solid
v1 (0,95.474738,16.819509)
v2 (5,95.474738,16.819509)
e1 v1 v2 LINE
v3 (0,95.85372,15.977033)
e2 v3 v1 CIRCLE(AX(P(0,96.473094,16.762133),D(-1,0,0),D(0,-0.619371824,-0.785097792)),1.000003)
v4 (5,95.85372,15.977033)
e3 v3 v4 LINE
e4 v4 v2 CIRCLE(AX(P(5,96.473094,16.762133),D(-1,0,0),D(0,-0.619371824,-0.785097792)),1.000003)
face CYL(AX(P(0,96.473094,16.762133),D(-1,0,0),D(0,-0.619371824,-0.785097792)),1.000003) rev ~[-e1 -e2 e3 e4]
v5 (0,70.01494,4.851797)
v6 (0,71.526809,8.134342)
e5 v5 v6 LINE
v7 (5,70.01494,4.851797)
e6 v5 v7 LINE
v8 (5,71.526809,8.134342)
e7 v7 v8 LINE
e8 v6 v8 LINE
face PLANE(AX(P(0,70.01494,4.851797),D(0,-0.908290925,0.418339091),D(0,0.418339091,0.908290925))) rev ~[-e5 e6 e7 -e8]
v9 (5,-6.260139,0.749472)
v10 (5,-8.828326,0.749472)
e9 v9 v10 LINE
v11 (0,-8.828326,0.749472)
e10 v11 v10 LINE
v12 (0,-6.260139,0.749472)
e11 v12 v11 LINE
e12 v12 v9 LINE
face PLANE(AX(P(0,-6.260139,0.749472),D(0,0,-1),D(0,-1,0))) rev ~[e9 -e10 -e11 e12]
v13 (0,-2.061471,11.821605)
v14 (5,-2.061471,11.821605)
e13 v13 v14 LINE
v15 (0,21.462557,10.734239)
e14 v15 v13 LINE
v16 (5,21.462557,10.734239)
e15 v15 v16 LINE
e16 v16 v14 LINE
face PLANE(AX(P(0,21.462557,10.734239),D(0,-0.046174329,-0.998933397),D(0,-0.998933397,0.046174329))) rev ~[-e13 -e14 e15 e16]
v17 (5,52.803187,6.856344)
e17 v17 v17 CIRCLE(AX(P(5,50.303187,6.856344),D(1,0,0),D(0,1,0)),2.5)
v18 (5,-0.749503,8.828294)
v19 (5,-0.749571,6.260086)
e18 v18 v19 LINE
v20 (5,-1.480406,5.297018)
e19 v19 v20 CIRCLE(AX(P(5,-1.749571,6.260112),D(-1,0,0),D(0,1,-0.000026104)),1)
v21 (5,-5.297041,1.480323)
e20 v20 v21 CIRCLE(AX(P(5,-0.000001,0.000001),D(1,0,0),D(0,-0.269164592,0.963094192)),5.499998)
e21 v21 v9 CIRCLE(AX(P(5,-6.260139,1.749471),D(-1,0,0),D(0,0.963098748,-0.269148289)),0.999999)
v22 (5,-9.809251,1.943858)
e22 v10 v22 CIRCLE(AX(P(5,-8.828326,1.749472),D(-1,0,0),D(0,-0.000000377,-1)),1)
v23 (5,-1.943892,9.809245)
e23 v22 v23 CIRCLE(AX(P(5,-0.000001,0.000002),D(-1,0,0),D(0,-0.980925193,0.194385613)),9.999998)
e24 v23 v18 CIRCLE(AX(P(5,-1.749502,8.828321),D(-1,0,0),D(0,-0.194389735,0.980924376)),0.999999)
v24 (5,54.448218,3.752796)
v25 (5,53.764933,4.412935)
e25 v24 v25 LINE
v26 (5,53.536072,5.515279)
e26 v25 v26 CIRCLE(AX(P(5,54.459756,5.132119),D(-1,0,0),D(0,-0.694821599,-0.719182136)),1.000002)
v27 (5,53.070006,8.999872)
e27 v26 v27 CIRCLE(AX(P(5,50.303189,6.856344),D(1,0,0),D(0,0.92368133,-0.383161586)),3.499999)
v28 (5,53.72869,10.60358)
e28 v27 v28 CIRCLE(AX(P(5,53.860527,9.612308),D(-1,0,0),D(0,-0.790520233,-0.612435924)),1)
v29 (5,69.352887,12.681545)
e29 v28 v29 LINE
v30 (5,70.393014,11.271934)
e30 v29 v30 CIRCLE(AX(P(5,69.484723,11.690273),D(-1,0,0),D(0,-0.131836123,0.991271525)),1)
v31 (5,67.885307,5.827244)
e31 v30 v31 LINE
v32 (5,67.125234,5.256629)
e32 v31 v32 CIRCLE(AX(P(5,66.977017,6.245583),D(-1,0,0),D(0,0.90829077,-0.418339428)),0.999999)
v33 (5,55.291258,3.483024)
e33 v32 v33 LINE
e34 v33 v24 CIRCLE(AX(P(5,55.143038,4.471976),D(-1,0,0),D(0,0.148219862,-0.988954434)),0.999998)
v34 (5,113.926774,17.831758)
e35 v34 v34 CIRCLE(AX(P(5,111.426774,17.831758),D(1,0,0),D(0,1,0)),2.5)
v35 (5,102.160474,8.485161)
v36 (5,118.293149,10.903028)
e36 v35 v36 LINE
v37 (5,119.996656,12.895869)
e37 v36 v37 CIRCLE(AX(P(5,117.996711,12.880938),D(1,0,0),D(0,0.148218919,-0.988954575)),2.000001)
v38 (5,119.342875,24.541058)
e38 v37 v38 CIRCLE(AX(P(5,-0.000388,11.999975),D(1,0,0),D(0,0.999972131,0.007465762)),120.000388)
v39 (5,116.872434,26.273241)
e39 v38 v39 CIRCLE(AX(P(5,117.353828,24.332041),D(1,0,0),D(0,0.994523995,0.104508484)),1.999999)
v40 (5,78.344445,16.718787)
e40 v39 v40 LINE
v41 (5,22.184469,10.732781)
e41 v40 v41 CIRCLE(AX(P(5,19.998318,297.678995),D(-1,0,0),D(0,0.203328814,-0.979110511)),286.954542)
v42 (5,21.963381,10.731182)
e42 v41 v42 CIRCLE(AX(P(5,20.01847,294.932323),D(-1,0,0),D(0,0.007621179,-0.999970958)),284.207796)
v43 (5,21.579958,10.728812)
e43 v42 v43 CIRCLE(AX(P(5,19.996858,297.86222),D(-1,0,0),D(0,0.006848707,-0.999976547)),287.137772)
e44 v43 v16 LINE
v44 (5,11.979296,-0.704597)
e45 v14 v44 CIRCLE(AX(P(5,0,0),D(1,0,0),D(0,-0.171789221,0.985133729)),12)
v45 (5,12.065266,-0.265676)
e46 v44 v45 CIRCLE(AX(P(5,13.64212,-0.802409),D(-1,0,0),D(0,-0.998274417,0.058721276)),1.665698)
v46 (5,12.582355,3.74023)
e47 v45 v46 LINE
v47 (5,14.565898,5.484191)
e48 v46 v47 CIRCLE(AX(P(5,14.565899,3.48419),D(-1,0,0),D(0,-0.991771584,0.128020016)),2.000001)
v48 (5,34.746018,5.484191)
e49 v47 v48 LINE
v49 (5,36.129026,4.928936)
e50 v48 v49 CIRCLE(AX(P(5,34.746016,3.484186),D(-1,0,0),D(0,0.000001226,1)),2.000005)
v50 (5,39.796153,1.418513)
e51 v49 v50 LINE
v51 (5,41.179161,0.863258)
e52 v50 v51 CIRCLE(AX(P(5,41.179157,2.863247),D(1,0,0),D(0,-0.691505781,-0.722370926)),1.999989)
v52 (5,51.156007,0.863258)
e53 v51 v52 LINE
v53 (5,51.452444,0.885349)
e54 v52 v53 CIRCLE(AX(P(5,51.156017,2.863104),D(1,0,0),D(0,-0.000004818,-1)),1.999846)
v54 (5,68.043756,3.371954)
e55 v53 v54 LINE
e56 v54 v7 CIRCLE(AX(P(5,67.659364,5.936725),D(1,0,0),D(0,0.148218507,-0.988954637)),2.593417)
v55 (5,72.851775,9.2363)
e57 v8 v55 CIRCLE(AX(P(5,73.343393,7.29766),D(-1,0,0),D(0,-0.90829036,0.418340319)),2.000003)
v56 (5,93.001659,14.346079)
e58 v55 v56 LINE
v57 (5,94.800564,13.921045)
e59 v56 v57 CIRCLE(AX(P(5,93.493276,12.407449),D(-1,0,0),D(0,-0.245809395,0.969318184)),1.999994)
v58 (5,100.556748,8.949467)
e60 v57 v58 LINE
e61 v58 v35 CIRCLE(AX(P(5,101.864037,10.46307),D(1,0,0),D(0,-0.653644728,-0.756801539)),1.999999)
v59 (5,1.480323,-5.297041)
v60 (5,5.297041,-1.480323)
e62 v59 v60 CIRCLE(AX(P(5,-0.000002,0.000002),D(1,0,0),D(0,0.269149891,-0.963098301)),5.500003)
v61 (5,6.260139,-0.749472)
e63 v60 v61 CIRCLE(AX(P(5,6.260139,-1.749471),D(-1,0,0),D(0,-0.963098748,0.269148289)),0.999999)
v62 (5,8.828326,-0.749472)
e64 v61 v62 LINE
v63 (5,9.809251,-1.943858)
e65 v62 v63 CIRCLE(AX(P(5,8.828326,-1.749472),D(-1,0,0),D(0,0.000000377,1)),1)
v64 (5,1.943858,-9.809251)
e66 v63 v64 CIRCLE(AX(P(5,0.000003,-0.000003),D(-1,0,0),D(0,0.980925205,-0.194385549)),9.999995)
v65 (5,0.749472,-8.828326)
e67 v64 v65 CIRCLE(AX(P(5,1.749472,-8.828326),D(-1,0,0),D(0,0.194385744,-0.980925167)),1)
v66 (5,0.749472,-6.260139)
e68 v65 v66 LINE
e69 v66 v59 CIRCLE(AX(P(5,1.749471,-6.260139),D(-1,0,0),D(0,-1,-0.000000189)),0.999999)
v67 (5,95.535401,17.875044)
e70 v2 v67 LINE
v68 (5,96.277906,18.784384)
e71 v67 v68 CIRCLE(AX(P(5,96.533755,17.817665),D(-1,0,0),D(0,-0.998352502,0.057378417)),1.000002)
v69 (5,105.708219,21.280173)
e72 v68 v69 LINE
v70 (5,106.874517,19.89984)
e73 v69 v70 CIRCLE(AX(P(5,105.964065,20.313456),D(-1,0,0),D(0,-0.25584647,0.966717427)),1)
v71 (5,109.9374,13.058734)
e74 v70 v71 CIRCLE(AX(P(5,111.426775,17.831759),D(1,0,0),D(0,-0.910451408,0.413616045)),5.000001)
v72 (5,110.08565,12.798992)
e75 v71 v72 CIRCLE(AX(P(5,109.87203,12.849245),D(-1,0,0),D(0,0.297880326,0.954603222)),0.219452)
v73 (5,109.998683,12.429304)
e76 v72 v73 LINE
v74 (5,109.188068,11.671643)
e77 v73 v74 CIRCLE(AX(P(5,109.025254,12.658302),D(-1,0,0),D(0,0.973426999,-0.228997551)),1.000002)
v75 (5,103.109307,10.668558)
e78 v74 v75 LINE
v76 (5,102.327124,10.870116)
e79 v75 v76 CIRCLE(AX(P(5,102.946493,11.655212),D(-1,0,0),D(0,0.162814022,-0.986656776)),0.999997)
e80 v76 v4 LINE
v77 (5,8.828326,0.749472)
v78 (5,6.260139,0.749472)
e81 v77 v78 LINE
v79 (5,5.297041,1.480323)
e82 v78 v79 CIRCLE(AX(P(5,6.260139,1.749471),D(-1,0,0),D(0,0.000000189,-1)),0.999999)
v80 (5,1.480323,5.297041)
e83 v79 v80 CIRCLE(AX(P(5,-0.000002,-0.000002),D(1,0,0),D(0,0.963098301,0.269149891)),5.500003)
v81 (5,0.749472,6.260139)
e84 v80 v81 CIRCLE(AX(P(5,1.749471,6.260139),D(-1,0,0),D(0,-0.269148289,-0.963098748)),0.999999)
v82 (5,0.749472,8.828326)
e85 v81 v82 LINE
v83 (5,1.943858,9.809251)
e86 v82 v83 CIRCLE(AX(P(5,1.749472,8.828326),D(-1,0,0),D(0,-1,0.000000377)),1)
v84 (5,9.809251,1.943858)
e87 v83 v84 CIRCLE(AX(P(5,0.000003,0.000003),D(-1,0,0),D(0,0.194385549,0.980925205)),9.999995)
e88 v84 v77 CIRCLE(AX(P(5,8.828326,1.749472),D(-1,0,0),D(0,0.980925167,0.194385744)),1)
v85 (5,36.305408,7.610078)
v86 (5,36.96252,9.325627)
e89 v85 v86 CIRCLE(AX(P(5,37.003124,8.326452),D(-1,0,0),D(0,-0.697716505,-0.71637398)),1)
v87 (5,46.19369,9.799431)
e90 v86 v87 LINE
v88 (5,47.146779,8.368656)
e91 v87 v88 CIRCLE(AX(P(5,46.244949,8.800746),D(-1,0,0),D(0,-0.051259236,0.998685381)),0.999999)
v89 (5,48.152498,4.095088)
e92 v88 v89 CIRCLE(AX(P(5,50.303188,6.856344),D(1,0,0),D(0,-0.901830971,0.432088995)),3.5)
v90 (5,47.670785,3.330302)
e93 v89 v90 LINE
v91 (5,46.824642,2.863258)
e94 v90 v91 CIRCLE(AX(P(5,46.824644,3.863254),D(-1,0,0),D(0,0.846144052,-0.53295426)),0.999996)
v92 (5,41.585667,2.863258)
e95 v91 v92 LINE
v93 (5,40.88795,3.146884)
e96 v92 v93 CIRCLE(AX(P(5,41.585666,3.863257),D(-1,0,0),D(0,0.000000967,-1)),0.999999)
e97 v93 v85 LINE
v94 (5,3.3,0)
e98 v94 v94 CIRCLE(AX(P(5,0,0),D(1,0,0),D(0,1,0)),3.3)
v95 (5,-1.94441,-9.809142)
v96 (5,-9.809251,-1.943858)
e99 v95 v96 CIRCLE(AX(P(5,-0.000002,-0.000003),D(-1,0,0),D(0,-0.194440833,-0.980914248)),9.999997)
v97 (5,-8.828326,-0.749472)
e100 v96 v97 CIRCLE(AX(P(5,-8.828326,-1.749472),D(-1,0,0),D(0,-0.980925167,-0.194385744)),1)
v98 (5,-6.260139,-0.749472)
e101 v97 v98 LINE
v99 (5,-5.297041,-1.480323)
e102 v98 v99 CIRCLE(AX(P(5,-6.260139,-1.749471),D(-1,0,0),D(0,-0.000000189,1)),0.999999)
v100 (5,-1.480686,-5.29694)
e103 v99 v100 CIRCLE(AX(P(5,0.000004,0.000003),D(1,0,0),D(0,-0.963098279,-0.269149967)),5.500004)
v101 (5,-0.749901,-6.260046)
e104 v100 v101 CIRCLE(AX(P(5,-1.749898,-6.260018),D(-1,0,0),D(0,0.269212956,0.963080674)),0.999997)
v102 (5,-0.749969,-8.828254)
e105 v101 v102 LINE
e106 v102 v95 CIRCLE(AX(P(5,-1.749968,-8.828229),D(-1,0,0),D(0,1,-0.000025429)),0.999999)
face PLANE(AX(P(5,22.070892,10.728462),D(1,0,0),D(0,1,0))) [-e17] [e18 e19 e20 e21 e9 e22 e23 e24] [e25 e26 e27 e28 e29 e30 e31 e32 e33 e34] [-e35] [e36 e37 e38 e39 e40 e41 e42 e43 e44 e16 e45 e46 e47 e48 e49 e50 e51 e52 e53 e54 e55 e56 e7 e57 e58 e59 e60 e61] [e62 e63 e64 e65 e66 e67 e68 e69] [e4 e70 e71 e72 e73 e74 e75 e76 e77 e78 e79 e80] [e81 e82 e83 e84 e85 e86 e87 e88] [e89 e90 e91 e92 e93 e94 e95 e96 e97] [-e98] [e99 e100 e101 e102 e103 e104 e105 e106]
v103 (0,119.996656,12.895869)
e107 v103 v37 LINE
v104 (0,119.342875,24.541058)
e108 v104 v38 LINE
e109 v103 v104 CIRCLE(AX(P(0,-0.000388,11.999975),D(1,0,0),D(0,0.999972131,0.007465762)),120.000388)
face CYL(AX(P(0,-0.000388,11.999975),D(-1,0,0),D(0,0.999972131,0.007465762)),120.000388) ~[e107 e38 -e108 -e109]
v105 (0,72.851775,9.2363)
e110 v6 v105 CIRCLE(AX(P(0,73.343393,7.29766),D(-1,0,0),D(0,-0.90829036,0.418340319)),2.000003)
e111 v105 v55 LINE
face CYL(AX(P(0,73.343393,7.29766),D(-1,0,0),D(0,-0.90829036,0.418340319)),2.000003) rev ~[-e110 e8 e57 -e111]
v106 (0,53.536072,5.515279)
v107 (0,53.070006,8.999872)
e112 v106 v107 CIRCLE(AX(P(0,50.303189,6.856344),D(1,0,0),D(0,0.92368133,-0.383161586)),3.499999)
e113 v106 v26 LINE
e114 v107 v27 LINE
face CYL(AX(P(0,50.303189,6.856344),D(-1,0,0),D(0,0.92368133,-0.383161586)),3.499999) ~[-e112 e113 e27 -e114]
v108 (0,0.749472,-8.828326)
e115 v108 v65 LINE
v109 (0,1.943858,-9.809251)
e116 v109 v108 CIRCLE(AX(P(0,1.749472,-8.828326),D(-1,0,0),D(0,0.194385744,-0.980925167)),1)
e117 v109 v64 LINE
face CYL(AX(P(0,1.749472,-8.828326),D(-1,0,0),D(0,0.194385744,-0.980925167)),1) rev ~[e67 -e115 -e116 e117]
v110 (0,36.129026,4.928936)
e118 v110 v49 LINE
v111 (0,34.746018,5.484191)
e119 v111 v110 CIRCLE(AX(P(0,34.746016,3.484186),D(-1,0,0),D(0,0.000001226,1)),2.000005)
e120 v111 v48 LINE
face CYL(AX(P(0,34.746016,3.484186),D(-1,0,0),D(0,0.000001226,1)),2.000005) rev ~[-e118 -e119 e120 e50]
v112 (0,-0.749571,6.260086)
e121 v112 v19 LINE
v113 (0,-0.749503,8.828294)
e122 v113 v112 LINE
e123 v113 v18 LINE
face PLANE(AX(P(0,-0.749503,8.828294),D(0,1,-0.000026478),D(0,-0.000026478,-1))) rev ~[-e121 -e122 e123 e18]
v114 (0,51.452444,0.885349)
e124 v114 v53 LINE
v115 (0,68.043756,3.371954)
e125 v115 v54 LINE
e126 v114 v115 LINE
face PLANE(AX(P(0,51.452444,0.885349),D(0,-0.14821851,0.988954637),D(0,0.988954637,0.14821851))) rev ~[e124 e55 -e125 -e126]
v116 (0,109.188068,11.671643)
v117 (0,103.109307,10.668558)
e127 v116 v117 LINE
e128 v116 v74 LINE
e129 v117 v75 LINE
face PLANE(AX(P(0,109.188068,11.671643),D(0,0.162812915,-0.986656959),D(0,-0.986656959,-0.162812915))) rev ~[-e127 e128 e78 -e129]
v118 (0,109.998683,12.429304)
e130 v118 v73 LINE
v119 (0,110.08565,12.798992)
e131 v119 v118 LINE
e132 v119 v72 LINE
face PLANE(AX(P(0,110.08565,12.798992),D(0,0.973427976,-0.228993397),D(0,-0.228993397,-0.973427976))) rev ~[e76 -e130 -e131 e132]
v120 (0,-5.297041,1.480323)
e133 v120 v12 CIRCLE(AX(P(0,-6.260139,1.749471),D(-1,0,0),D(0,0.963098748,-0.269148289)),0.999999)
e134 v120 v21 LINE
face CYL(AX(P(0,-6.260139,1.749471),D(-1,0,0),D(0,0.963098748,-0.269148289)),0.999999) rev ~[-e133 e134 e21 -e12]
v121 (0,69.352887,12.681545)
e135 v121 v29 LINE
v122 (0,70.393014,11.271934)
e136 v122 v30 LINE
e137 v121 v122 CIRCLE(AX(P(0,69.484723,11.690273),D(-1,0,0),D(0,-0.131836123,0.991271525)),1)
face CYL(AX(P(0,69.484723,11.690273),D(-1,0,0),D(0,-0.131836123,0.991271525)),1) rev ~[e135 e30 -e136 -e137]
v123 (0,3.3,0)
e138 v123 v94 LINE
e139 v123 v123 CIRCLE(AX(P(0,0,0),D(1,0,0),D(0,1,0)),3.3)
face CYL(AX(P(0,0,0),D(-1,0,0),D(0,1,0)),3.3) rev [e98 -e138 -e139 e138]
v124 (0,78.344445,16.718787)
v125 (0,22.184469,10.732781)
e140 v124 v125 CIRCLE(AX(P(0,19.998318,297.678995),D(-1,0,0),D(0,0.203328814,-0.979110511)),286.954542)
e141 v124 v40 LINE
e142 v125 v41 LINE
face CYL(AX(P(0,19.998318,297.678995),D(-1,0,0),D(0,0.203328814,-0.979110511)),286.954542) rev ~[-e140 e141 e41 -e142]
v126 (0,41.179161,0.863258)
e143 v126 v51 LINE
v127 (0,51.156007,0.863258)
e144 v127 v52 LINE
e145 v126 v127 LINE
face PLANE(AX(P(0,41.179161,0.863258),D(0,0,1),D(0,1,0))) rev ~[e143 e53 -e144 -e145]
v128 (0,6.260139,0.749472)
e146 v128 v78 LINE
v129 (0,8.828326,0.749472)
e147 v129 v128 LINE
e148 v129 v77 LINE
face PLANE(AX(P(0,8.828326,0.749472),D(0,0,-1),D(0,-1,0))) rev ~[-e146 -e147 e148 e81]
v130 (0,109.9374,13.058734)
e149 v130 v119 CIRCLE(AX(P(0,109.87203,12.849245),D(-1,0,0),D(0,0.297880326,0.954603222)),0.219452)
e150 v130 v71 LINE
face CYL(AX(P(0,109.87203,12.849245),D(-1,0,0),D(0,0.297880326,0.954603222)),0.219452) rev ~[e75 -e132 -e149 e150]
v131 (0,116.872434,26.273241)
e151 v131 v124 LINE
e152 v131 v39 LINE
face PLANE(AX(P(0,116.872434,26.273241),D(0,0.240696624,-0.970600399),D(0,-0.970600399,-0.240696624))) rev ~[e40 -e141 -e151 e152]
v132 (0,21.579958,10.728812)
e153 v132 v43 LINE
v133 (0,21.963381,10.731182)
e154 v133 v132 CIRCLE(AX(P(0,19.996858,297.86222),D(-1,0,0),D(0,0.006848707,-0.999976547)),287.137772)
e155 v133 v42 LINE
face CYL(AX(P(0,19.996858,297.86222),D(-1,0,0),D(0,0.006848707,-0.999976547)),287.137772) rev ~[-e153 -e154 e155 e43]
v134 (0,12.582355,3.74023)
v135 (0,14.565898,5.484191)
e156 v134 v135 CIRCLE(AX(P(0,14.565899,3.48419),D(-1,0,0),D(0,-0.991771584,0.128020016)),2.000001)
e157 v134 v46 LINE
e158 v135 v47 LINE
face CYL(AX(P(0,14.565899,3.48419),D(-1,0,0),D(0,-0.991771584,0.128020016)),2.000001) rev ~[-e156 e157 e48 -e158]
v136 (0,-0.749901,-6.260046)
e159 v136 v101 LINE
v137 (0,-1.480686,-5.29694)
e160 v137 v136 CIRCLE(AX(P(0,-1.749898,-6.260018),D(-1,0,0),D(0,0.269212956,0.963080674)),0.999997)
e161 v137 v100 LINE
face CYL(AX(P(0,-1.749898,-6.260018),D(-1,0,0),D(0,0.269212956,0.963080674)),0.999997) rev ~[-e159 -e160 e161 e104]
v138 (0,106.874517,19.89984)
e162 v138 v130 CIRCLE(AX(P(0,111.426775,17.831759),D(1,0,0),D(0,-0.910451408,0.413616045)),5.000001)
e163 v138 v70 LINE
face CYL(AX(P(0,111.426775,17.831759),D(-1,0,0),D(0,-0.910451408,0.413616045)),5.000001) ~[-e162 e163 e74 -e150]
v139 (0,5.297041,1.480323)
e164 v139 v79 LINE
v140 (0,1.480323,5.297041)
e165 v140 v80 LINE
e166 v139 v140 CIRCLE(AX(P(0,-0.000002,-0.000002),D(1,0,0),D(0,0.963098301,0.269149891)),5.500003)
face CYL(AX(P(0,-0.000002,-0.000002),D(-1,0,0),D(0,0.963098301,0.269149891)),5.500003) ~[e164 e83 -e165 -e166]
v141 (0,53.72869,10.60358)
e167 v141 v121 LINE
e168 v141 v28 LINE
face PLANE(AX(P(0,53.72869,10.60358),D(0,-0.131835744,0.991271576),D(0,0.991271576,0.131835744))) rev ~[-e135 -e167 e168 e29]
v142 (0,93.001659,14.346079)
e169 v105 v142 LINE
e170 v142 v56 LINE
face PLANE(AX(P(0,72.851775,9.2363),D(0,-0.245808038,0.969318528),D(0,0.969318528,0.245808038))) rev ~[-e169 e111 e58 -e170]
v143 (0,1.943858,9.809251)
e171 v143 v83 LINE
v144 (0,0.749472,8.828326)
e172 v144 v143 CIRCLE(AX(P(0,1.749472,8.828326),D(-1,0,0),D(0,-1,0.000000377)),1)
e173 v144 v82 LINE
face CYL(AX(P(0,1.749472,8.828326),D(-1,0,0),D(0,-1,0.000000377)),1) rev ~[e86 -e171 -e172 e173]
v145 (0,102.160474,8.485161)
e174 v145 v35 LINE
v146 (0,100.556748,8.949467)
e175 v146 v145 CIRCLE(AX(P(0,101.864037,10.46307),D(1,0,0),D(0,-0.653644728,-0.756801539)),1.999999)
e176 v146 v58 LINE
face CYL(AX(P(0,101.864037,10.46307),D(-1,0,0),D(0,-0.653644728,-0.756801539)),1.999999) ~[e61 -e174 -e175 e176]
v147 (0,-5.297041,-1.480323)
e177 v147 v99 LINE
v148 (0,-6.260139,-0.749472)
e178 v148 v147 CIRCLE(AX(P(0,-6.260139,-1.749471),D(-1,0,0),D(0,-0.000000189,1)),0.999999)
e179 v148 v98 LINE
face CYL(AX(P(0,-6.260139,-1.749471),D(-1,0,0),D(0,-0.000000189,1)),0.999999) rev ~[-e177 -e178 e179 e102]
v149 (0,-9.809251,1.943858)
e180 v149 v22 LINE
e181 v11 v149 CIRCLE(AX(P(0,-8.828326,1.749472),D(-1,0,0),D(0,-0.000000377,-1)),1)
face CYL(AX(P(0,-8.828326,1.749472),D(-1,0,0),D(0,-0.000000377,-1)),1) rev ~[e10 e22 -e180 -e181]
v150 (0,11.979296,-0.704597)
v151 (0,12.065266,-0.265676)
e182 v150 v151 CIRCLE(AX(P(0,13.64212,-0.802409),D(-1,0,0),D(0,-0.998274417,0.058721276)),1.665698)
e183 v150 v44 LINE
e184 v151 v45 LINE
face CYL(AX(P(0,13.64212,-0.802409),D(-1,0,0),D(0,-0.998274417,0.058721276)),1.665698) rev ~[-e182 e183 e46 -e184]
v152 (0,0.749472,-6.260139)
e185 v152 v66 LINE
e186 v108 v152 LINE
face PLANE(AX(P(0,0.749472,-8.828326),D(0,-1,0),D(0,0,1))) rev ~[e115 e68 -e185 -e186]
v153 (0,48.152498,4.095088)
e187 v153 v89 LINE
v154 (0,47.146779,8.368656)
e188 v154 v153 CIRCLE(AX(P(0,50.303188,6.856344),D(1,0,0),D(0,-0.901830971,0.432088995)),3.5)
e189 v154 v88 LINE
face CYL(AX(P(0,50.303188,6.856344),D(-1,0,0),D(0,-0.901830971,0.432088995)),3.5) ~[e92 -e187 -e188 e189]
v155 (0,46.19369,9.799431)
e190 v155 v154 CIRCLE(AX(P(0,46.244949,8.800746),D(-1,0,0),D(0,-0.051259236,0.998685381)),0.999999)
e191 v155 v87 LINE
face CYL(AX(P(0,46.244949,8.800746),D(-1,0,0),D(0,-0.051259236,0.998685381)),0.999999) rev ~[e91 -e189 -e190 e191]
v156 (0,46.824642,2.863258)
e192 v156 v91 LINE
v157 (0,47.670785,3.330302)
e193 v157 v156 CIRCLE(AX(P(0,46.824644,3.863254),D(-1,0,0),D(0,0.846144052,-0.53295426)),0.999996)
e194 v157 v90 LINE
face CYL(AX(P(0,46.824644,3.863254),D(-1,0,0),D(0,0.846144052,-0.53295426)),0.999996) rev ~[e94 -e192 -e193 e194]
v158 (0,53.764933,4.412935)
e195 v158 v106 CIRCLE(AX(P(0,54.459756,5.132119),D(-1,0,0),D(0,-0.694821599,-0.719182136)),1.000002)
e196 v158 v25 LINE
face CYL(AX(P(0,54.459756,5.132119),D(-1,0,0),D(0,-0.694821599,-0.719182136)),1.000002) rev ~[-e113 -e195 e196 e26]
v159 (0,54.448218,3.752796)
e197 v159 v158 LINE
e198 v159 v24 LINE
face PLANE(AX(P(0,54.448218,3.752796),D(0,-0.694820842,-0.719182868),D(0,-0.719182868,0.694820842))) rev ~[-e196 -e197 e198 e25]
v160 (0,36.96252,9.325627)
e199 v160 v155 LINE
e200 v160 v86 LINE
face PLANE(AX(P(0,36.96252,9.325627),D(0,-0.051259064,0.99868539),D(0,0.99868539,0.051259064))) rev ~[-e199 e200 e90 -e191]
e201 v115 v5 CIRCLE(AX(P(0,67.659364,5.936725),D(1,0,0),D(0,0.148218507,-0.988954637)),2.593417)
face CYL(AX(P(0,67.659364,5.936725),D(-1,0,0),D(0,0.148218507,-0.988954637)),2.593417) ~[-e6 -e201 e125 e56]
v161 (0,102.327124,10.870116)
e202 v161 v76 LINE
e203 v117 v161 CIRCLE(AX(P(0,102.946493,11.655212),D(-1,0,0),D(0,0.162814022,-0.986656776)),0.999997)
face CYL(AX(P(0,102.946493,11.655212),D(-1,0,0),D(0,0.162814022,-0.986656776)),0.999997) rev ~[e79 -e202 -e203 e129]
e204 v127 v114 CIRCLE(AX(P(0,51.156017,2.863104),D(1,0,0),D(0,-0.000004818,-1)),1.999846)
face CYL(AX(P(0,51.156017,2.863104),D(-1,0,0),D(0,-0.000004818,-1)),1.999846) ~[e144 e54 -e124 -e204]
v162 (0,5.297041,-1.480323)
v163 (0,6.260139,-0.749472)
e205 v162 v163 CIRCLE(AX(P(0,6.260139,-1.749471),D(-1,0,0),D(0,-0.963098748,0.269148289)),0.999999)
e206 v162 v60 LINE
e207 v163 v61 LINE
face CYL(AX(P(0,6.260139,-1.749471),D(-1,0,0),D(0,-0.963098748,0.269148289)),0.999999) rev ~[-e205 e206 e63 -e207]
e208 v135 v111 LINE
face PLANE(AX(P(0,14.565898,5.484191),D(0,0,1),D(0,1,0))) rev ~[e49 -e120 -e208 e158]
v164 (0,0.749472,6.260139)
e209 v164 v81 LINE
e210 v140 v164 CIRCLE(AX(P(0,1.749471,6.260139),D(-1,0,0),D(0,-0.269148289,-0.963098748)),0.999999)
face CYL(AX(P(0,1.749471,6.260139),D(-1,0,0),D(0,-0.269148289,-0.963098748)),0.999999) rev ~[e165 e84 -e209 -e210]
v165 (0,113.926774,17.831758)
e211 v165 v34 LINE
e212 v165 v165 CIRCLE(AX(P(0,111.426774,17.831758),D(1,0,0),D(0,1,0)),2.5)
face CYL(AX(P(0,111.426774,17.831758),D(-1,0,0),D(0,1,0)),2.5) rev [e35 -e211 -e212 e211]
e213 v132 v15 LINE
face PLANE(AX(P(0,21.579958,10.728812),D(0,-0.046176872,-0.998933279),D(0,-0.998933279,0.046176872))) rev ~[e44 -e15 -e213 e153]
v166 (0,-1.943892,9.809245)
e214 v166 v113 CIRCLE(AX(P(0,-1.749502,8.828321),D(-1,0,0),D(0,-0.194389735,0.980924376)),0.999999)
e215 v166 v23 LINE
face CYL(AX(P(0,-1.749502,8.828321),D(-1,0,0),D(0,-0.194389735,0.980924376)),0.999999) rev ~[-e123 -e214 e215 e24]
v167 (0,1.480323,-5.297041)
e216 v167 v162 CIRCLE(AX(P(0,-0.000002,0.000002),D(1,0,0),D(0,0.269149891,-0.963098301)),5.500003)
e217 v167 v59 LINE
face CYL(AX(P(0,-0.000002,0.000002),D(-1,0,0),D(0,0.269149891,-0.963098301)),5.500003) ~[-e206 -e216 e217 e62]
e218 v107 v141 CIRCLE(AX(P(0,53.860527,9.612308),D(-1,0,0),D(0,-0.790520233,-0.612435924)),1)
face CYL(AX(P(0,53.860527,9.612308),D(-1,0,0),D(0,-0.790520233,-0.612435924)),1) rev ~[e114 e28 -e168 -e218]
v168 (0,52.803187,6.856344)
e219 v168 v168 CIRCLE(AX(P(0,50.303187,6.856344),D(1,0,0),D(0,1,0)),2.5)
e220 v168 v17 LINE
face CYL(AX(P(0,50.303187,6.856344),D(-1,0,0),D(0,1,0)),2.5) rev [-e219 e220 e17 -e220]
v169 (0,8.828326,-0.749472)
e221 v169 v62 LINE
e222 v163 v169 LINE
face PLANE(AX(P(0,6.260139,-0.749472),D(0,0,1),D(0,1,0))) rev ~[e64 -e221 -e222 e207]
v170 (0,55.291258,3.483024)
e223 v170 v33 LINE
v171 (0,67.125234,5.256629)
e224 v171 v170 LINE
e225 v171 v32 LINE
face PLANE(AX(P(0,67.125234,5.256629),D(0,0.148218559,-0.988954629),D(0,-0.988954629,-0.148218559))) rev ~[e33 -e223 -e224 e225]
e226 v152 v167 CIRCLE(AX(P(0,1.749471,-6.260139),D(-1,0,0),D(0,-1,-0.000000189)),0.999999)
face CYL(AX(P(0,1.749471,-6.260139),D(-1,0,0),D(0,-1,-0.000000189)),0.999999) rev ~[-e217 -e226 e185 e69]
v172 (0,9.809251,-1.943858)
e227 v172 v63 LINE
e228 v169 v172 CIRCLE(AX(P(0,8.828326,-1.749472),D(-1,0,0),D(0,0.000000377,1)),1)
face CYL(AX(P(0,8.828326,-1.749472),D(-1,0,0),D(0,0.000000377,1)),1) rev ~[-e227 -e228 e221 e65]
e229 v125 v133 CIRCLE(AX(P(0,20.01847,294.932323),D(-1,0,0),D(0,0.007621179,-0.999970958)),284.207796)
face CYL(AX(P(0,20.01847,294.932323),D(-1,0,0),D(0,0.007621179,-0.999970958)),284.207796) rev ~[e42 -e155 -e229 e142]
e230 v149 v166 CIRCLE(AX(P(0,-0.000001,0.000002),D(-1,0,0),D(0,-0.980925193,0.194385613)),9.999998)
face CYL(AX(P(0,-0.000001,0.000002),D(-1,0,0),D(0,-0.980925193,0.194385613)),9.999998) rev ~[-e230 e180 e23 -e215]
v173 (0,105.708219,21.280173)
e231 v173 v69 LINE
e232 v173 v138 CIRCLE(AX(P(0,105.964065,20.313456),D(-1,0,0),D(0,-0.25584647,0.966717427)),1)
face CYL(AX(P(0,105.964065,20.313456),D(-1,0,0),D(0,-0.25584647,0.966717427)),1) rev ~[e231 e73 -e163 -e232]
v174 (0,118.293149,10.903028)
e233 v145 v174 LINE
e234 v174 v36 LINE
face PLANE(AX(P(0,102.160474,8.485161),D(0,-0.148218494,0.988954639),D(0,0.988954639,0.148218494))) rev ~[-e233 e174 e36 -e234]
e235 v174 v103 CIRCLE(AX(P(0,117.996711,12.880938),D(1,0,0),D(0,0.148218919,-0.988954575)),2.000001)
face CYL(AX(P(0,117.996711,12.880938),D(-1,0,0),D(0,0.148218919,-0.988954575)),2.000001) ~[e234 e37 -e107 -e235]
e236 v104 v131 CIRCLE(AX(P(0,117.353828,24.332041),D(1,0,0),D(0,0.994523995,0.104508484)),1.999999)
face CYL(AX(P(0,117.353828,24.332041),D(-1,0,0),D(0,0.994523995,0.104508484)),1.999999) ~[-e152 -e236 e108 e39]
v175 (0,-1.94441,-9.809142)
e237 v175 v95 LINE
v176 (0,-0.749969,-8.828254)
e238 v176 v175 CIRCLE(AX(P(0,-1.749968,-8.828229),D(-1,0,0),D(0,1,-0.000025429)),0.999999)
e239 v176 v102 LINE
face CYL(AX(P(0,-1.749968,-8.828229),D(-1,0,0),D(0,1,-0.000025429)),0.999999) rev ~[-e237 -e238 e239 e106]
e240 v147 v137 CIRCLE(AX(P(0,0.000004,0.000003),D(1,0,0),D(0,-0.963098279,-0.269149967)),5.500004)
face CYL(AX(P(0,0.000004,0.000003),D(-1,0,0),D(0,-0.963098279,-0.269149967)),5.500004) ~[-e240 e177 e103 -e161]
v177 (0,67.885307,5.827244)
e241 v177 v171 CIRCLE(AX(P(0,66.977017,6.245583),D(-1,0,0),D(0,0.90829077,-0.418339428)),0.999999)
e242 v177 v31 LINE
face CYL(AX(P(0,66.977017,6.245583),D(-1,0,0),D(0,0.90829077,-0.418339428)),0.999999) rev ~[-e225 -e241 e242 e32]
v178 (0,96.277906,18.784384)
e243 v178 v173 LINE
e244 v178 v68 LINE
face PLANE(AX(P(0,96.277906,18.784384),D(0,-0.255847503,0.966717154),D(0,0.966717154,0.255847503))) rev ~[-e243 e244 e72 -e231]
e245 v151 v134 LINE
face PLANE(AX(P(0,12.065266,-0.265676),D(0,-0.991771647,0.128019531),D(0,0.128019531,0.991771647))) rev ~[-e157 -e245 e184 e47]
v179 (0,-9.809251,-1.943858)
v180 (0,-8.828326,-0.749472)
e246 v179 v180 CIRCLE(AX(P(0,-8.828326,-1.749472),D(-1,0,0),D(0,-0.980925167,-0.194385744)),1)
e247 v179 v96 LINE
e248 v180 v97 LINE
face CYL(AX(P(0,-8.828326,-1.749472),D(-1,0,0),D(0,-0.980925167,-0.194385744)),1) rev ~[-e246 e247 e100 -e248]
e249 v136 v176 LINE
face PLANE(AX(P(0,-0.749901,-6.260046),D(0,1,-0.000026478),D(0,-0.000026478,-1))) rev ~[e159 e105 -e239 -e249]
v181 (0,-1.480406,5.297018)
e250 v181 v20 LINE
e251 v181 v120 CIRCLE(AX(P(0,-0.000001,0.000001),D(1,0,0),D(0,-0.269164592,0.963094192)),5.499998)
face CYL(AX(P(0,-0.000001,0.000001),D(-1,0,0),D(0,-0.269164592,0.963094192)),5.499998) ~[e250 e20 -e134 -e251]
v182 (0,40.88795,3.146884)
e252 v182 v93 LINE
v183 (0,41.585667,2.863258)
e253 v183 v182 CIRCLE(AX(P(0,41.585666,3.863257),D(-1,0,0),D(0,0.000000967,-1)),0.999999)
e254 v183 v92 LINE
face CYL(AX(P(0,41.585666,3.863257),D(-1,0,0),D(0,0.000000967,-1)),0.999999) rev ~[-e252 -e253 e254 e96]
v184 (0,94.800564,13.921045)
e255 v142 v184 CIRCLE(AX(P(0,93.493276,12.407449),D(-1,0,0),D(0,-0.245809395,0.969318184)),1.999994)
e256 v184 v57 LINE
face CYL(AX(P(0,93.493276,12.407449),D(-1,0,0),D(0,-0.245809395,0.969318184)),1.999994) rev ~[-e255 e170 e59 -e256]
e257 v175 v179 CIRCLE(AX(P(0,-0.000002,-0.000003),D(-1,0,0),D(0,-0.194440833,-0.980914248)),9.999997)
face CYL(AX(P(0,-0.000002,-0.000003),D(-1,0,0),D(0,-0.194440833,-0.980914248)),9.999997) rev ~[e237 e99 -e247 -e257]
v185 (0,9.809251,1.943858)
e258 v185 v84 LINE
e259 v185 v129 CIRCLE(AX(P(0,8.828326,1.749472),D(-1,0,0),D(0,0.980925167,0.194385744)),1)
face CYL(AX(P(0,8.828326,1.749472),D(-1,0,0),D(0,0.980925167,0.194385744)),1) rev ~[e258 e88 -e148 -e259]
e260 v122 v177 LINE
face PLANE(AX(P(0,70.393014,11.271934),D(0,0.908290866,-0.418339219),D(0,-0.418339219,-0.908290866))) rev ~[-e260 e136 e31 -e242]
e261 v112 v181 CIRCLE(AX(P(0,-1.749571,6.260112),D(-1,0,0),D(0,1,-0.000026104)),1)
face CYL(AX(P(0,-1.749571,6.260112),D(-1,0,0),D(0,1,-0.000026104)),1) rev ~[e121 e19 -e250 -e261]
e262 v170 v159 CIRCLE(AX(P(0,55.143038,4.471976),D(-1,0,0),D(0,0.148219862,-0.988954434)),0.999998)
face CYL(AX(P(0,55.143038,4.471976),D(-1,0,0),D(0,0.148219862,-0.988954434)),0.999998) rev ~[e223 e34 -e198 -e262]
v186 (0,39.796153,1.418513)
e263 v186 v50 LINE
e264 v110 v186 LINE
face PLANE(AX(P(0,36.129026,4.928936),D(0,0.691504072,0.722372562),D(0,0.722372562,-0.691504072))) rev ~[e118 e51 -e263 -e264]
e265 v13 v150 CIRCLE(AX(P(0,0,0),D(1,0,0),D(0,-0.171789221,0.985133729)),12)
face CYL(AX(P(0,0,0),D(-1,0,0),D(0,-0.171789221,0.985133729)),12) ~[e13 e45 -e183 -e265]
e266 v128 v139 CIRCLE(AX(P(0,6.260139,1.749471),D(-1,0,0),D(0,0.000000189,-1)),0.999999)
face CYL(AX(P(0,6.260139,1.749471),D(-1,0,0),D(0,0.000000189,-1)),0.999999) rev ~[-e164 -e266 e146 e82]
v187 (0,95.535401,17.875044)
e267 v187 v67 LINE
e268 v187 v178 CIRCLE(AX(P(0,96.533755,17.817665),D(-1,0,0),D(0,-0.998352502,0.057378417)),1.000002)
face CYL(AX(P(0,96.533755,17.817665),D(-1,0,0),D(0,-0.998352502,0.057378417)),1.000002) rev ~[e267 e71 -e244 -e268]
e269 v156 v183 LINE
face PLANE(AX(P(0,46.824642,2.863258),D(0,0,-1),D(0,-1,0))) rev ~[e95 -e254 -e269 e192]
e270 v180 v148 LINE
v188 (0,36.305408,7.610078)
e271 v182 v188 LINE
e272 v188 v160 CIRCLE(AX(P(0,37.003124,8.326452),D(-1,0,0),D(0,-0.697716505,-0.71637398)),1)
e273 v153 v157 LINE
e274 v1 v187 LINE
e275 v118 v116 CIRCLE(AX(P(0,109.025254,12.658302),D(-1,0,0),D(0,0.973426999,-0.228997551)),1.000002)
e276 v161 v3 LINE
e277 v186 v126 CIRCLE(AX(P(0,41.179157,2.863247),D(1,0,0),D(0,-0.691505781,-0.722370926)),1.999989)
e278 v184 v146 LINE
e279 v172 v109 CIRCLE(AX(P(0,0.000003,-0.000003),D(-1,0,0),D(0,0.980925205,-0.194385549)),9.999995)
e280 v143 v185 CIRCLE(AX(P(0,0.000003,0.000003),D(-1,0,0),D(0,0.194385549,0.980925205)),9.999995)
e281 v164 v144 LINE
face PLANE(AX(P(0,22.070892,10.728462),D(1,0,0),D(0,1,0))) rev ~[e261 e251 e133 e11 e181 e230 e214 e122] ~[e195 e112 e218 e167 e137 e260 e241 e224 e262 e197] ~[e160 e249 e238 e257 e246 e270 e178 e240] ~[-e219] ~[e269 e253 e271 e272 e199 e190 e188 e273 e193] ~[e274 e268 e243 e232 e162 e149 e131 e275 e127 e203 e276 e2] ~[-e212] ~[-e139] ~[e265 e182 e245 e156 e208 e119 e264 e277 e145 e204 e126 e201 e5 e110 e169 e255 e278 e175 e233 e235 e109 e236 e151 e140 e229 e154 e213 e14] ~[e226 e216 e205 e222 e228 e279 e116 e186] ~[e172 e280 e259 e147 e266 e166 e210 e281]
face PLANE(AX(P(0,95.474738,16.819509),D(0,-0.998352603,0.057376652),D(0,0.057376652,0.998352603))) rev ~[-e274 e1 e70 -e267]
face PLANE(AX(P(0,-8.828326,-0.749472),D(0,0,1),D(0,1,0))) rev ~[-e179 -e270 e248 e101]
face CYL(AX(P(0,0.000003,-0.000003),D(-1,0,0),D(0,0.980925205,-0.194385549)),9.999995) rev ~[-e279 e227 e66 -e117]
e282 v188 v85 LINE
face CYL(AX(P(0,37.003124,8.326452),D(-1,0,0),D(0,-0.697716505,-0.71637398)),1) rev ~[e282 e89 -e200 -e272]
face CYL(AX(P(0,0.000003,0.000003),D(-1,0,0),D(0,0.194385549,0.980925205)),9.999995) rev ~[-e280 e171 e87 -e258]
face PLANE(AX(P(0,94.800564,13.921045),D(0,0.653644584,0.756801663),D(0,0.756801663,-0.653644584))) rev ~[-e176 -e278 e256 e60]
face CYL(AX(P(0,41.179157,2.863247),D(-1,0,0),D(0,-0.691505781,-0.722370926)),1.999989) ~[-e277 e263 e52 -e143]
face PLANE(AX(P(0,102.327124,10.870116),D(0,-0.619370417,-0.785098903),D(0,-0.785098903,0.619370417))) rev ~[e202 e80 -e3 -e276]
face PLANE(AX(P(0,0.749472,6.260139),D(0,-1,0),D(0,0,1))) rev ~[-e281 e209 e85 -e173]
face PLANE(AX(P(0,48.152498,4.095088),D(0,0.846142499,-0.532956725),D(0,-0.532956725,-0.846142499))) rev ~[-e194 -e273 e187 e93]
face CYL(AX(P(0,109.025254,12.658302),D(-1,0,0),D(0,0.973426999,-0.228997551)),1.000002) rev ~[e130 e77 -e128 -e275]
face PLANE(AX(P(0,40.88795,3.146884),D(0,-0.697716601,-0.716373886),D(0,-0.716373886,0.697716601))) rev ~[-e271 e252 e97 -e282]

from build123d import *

# Parameters (mm, degrees)
F0_R     = 3.3
F0_R_2   = 2.5
F1_DEPTH = 5


with BuildPart() as f1:
    # F0 (on Right) → F1 (new body)
    with BuildSketch(Plane.YZ):
        with BuildLine():
            ThreePointArc((21.963381, 10.731182), (21.963038, 10.725257), (21.962693, 10.719332))
            ThreePointArc((21.962693, 10.719332), (22.073674, 10.724516), (22.184469, 10.732781))
            ThreePointArc((22.184469, 10.732781), (22.073925, 10.73196), (21.963381, 10.731182))
        make_face()
        with BuildLine():
            ThreePointArc((21.462557, 10.734239), (21.646861, 10.721449), (21.831558, 10.717182))
            Line((21.831558, 10.717182), (21.579958, 10.728812))
            Line((21.579958, 10.728812), (21.462557, 10.734239))
        make_face()
        with BuildLine():
            ThreePointArc((21.831558, 10.717182), (21.897134, 10.71772), (21.962693, 10.719332))
            ThreePointArc((21.962693, 10.719332), (21.963038, 10.725257), (21.963381, 10.731182))
            ThreePointArc((21.963381, 10.731182), (21.77167, 10.729933), (21.579958, 10.728812))
            Line((21.579958, 10.728812), (21.831558, 10.717182))
        make_face()
        with BuildLine():
            ThreePointArc((22.184469, 10.732781), (22.073674, 10.724516), (21.962693, 10.719332))
            ThreePointArc((21.962693, 10.719332), (21.897134, 10.71772), (21.831558, 10.717182))
            ThreePointArc((21.831558, 10.717182), (21.646861, 10.721449), (21.462557, 10.734239))
            Line((21.462557, 10.734239), (-2.061471, 11.821605))
            ThreePointArc((-2.061471, 11.821605), (-7.98857, -8.954482), (11.979296, -0.704597))
            ThreePointArc((11.979296, -0.704597), (12.007482, -0.482238), (12.065266, -0.265676))
            Line((12.065266, -0.265676), (12.582355, 3.74023))
            ThreePointArc((12.582355, 3.74023), (13.245307, 4.986202), (14.565898, 5.484191))
            Line((14.565898, 5.484191), (34.746018, 5.484191))
            ThreePointArc((34.746018, 5.484191), (35.491172, 5.340193), (36.129026, 4.928936))
            Line((36.129026, 4.928936), (39.796153, 1.418513))
            ThreePointArc((39.796153, 1.418513), (40.434006, 1.007255), (41.179161, 0.863258))
            Line((41.179161, 0.863258), (51.156007, 0.863258))
            ThreePointArc((51.156007, 0.863258), (51.304636, 0.868788), (51.452444, 0.885349))
            Line((51.452444, 0.885349), (68.043756, 3.371954))
            ThreePointArc((68.043756, 3.371954), (69.216393, 3.862727), (70.01494, 4.851797))
            Line((70.01494, 4.851797), (71.526809, 8.134342))
            ThreePointArc((71.526809, 8.134342), (72.064516, 8.835349), (72.851775, 9.2363))
            Line((72.851775, 9.2363), (93.001659, 14.346079))
            ThreePointArc((93.001659, 14.346079), (93.95316, 14.353851), (94.800564, 13.921045))
            Line((94.800564, 13.921045), (100.556748, 8.949467))
            ThreePointArc((100.556748, 8.949467), (101.307844, 8.541964), (102.160474, 8.485161))
            Line((102.160474, 8.485161), (118.293149, 10.903028))
            ThreePointArc((118.293149, 10.903028), (119.516973, 11.581397), (119.996656, 12.895869))
            ThreePointArc((119.996656, 12.895869), (119.811332, 18.726411), (119.342875, 24.541058))
            ThreePointArc((119.342875, 24.541058), (118.50203, 25.969609), (116.872434, 26.273241))
            Line((116.872434, 26.273241), (78.344445, 16.718787))
            ThreePointArc((78.344445, 16.718787), (50.412085, 12.340754), (22.184469, 10.732781))
        make_face()
        with BuildLine():
            ThreePointArc((-9.809251, -1.943858), (-9.601109, -1.114802), (-8.828326, -0.749472))
            Line((-8.828326, -0.749472), (-6.260139, -0.749472))
            ThreePointArc((-6.260139, -0.749472), (-5.655635, -0.95287), (-5.297041, -1.480323))
            ThreePointArc((-5.297041, -1.480323), (-3.88922, -3.888954), (-1.480686, -5.29694))
            ThreePointArc((-1.480686, -5.29694), (-0.95327, -5.655553), (-0.749901, -6.260046))
            Line((-0.749901, -6.260046), (-0.749969, -8.828254))
            ThreePointArc((-0.749969, -8.828254), (-1.11533, -9.601037), (-1.94441, -9.809142))
            ThreePointArc((-1.94441, -9.809142), (-7.071267, -7.070869), (-9.809251, -1.943858))
        make_face(mode=Mode.SUBTRACT)
        with BuildLine():
            ThreePointArc((9.809251, -1.943858), (7.071068, -7.071068), (1.943858, -9.809251))
            ThreePointArc((1.943858, -9.809251), (1.114802, -9.601109), (0.749472, -8.828326))
            Line((0.749472, -8.828326), (0.749472, -6.260139))
            ThreePointArc((0.749472, -6.260139), (0.95287, -5.655635), (1.480323, -5.297041))
            ThreePointArc((1.480323, -5.297041), (3.889087, -3.889087), (5.297041, -1.480323))
            ThreePointArc((5.297041, -1.480323), (5.655635, -0.95287), (6.260139, -0.749472))
            Line((6.260139, -0.749472), (8.828326, -0.749472))
            ThreePointArc((8.828326, -0.749472), (9.601109, -1.114802), (9.809251, -1.943858))
        make_face(mode=Mode.SUBTRACT)
        Circle(F0_R, mode=Mode.SUBTRACT)
        with BuildLine():
            Line((-6.260139, 0.749472), (-8.828326, 0.749472))
            ThreePointArc((-8.828326, 0.749472), (-9.601109, 1.114802), (-9.809251, 1.943858))
            ThreePointArc((-9.809251, 1.943858), (-7.07108, 7.071056), (-1.943892, 9.809245))
            ThreePointArc((-1.943892, 9.809245), (-1.114823, 9.601096), (-0.749503, 8.828294))
            Line((-0.749503, 8.828294), (-0.749571, 6.260086))
            ThreePointArc((-0.749571, 6.260086), (-0.952972, 5.655604), (-1.480406, 5.297018))
            ThreePointArc((-1.480406, 5.297018), (-3.889118, 3.889057), (-5.297041, 1.480323))
            ThreePointArc((-5.297041, 1.480323), (-5.655635, 0.95287), (-6.260139, 0.749472))
        make_face(mode=Mode.SUBTRACT)
        with BuildLine():
            Line((0.749472, 6.260139), (0.749472, 8.828326))
            ThreePointArc((0.749472, 8.828326), (1.114802, 9.601109), (1.943858, 9.809251))
            ThreePointArc((1.943858, 9.809251), (7.071068, 7.071068), (9.809251, 1.943858))
            ThreePointArc((9.809251, 1.943858), (9.601109, 1.114802), (8.828326, 0.749472))
            Line((8.828326, 0.749472), (6.260139, 0.749472))
            ThreePointArc((6.260139, 0.749472), (5.655635, 0.95287), (5.297041, 1.480323))
            ThreePointArc((5.297041, 1.480323), (3.889087, 3.889087), (1.480323, 5.297041))
            ThreePointArc((1.480323, 5.297041), (0.95287, 5.655635), (0.749472, 6.260139))
        make_face(mode=Mode.SUBTRACT)
        with BuildLine():
            ThreePointArc((46.19369, 9.799431), (47.077203, 9.35514), (47.146779, 8.368656))
            ThreePointArc((47.146779, 8.368656), (46.896258, 6.054576), (48.152498, 4.095088))
            Line((48.152498, 4.095088), (47.670785, 3.330302))
            ThreePointArc((47.670785, 3.330302), (47.307883, 2.98777), (46.824642, 2.863258))
            Line((46.824642, 2.863258), (41.585667, 2.863258))
            ThreePointArc((41.585667, 2.863258), (41.209086, 2.936874), (40.88795, 3.146884))
            Line((40.88795, 3.146884), (36.305408, 7.610078))
            ThreePointArc((36.305408, 7.610078), (36.069285, 8.684144), (36.96252, 9.325627))
            Line((36.96252, 9.325627), (46.19369, 9.799431))
        make_face(mode=Mode.SUBTRACT)
        with Locations((50.303187, 6.856344)):
            Circle(F0_R_2, mode=Mode.SUBTRACT)
        with BuildLine():
            Line((67.125234, 5.256629), (55.291258, 3.483024))
            ThreePointArc((55.291258, 3.483024), (54.838264, 3.519554), (54.448218, 3.752796))
            Line((54.448218, 3.752796), (53.764933, 4.412935))
            ThreePointArc((53.764933, 4.412935), (53.480633, 4.92884), (53.536072, 5.515279))
            ThreePointArc((53.536072, 5.515279), (53.772295, 7.320339), (53.070006, 8.999872))
            ThreePointArc((53.070006, 8.999872), (52.93551, 9.992236), (53.72869, 10.60358))
            Line((53.72869, 10.60358), (69.352887, 12.681545))
            ThreePointArc((69.352887, 12.681545), (70.289379, 12.284015), (70.393014, 11.271934))
            Line((70.393014, 11.271934), (67.885307, 5.827244))
            ThreePointArc((67.885307, 5.827244), (67.577394, 5.445867), (67.125234, 5.256629))
        make_face(mode=Mode.SUBTRACT)
        with BuildLine():
            ThreePointArc((105.708219, 21.280173), (106.727909, 20.958857), (106.874517, 19.89984))
            ThreePointArc((106.874517, 19.89984), (106.863277, 15.788601), (109.9374, 13.058734))
            ThreePointArc((109.9374, 13.058734), (110.062622, 12.958027), (110.08565, 12.798992))
            Line((110.08565, 12.798992), (109.998683, 12.429304))
            ThreePointArc((109.998683, 12.429304), (109.708097, 11.927734), (109.188068, 11.671643))
            Line((109.188068, 11.671643), (103.109307, 10.668558))
            ThreePointArc((103.109307, 10.668558), (102.696959, 10.686849), (102.327124, 10.870116))
            Line((102.327124, 10.870116), (95.85372, 15.977033))
            ThreePointArc((95.85372, 15.977033), (95.561116, 16.351886), (95.474738, 16.819509))
            Line((95.474738, 16.819509), (95.535401, 17.875044))
            ThreePointArc((95.535401, 17.875044), (95.759171, 18.450139), (96.277906, 18.784384))
            Line((96.277906, 18.784384), (105.708219, 21.280173))
        make_face(mode=Mode.SUBTRACT)
        with Locations((111.426774, 17.831758)):
            Circle(F0_R_2, mode=Mode.SUBTRACT)
    extrude(amount=F1_DEPTH)


solid = f1.part
